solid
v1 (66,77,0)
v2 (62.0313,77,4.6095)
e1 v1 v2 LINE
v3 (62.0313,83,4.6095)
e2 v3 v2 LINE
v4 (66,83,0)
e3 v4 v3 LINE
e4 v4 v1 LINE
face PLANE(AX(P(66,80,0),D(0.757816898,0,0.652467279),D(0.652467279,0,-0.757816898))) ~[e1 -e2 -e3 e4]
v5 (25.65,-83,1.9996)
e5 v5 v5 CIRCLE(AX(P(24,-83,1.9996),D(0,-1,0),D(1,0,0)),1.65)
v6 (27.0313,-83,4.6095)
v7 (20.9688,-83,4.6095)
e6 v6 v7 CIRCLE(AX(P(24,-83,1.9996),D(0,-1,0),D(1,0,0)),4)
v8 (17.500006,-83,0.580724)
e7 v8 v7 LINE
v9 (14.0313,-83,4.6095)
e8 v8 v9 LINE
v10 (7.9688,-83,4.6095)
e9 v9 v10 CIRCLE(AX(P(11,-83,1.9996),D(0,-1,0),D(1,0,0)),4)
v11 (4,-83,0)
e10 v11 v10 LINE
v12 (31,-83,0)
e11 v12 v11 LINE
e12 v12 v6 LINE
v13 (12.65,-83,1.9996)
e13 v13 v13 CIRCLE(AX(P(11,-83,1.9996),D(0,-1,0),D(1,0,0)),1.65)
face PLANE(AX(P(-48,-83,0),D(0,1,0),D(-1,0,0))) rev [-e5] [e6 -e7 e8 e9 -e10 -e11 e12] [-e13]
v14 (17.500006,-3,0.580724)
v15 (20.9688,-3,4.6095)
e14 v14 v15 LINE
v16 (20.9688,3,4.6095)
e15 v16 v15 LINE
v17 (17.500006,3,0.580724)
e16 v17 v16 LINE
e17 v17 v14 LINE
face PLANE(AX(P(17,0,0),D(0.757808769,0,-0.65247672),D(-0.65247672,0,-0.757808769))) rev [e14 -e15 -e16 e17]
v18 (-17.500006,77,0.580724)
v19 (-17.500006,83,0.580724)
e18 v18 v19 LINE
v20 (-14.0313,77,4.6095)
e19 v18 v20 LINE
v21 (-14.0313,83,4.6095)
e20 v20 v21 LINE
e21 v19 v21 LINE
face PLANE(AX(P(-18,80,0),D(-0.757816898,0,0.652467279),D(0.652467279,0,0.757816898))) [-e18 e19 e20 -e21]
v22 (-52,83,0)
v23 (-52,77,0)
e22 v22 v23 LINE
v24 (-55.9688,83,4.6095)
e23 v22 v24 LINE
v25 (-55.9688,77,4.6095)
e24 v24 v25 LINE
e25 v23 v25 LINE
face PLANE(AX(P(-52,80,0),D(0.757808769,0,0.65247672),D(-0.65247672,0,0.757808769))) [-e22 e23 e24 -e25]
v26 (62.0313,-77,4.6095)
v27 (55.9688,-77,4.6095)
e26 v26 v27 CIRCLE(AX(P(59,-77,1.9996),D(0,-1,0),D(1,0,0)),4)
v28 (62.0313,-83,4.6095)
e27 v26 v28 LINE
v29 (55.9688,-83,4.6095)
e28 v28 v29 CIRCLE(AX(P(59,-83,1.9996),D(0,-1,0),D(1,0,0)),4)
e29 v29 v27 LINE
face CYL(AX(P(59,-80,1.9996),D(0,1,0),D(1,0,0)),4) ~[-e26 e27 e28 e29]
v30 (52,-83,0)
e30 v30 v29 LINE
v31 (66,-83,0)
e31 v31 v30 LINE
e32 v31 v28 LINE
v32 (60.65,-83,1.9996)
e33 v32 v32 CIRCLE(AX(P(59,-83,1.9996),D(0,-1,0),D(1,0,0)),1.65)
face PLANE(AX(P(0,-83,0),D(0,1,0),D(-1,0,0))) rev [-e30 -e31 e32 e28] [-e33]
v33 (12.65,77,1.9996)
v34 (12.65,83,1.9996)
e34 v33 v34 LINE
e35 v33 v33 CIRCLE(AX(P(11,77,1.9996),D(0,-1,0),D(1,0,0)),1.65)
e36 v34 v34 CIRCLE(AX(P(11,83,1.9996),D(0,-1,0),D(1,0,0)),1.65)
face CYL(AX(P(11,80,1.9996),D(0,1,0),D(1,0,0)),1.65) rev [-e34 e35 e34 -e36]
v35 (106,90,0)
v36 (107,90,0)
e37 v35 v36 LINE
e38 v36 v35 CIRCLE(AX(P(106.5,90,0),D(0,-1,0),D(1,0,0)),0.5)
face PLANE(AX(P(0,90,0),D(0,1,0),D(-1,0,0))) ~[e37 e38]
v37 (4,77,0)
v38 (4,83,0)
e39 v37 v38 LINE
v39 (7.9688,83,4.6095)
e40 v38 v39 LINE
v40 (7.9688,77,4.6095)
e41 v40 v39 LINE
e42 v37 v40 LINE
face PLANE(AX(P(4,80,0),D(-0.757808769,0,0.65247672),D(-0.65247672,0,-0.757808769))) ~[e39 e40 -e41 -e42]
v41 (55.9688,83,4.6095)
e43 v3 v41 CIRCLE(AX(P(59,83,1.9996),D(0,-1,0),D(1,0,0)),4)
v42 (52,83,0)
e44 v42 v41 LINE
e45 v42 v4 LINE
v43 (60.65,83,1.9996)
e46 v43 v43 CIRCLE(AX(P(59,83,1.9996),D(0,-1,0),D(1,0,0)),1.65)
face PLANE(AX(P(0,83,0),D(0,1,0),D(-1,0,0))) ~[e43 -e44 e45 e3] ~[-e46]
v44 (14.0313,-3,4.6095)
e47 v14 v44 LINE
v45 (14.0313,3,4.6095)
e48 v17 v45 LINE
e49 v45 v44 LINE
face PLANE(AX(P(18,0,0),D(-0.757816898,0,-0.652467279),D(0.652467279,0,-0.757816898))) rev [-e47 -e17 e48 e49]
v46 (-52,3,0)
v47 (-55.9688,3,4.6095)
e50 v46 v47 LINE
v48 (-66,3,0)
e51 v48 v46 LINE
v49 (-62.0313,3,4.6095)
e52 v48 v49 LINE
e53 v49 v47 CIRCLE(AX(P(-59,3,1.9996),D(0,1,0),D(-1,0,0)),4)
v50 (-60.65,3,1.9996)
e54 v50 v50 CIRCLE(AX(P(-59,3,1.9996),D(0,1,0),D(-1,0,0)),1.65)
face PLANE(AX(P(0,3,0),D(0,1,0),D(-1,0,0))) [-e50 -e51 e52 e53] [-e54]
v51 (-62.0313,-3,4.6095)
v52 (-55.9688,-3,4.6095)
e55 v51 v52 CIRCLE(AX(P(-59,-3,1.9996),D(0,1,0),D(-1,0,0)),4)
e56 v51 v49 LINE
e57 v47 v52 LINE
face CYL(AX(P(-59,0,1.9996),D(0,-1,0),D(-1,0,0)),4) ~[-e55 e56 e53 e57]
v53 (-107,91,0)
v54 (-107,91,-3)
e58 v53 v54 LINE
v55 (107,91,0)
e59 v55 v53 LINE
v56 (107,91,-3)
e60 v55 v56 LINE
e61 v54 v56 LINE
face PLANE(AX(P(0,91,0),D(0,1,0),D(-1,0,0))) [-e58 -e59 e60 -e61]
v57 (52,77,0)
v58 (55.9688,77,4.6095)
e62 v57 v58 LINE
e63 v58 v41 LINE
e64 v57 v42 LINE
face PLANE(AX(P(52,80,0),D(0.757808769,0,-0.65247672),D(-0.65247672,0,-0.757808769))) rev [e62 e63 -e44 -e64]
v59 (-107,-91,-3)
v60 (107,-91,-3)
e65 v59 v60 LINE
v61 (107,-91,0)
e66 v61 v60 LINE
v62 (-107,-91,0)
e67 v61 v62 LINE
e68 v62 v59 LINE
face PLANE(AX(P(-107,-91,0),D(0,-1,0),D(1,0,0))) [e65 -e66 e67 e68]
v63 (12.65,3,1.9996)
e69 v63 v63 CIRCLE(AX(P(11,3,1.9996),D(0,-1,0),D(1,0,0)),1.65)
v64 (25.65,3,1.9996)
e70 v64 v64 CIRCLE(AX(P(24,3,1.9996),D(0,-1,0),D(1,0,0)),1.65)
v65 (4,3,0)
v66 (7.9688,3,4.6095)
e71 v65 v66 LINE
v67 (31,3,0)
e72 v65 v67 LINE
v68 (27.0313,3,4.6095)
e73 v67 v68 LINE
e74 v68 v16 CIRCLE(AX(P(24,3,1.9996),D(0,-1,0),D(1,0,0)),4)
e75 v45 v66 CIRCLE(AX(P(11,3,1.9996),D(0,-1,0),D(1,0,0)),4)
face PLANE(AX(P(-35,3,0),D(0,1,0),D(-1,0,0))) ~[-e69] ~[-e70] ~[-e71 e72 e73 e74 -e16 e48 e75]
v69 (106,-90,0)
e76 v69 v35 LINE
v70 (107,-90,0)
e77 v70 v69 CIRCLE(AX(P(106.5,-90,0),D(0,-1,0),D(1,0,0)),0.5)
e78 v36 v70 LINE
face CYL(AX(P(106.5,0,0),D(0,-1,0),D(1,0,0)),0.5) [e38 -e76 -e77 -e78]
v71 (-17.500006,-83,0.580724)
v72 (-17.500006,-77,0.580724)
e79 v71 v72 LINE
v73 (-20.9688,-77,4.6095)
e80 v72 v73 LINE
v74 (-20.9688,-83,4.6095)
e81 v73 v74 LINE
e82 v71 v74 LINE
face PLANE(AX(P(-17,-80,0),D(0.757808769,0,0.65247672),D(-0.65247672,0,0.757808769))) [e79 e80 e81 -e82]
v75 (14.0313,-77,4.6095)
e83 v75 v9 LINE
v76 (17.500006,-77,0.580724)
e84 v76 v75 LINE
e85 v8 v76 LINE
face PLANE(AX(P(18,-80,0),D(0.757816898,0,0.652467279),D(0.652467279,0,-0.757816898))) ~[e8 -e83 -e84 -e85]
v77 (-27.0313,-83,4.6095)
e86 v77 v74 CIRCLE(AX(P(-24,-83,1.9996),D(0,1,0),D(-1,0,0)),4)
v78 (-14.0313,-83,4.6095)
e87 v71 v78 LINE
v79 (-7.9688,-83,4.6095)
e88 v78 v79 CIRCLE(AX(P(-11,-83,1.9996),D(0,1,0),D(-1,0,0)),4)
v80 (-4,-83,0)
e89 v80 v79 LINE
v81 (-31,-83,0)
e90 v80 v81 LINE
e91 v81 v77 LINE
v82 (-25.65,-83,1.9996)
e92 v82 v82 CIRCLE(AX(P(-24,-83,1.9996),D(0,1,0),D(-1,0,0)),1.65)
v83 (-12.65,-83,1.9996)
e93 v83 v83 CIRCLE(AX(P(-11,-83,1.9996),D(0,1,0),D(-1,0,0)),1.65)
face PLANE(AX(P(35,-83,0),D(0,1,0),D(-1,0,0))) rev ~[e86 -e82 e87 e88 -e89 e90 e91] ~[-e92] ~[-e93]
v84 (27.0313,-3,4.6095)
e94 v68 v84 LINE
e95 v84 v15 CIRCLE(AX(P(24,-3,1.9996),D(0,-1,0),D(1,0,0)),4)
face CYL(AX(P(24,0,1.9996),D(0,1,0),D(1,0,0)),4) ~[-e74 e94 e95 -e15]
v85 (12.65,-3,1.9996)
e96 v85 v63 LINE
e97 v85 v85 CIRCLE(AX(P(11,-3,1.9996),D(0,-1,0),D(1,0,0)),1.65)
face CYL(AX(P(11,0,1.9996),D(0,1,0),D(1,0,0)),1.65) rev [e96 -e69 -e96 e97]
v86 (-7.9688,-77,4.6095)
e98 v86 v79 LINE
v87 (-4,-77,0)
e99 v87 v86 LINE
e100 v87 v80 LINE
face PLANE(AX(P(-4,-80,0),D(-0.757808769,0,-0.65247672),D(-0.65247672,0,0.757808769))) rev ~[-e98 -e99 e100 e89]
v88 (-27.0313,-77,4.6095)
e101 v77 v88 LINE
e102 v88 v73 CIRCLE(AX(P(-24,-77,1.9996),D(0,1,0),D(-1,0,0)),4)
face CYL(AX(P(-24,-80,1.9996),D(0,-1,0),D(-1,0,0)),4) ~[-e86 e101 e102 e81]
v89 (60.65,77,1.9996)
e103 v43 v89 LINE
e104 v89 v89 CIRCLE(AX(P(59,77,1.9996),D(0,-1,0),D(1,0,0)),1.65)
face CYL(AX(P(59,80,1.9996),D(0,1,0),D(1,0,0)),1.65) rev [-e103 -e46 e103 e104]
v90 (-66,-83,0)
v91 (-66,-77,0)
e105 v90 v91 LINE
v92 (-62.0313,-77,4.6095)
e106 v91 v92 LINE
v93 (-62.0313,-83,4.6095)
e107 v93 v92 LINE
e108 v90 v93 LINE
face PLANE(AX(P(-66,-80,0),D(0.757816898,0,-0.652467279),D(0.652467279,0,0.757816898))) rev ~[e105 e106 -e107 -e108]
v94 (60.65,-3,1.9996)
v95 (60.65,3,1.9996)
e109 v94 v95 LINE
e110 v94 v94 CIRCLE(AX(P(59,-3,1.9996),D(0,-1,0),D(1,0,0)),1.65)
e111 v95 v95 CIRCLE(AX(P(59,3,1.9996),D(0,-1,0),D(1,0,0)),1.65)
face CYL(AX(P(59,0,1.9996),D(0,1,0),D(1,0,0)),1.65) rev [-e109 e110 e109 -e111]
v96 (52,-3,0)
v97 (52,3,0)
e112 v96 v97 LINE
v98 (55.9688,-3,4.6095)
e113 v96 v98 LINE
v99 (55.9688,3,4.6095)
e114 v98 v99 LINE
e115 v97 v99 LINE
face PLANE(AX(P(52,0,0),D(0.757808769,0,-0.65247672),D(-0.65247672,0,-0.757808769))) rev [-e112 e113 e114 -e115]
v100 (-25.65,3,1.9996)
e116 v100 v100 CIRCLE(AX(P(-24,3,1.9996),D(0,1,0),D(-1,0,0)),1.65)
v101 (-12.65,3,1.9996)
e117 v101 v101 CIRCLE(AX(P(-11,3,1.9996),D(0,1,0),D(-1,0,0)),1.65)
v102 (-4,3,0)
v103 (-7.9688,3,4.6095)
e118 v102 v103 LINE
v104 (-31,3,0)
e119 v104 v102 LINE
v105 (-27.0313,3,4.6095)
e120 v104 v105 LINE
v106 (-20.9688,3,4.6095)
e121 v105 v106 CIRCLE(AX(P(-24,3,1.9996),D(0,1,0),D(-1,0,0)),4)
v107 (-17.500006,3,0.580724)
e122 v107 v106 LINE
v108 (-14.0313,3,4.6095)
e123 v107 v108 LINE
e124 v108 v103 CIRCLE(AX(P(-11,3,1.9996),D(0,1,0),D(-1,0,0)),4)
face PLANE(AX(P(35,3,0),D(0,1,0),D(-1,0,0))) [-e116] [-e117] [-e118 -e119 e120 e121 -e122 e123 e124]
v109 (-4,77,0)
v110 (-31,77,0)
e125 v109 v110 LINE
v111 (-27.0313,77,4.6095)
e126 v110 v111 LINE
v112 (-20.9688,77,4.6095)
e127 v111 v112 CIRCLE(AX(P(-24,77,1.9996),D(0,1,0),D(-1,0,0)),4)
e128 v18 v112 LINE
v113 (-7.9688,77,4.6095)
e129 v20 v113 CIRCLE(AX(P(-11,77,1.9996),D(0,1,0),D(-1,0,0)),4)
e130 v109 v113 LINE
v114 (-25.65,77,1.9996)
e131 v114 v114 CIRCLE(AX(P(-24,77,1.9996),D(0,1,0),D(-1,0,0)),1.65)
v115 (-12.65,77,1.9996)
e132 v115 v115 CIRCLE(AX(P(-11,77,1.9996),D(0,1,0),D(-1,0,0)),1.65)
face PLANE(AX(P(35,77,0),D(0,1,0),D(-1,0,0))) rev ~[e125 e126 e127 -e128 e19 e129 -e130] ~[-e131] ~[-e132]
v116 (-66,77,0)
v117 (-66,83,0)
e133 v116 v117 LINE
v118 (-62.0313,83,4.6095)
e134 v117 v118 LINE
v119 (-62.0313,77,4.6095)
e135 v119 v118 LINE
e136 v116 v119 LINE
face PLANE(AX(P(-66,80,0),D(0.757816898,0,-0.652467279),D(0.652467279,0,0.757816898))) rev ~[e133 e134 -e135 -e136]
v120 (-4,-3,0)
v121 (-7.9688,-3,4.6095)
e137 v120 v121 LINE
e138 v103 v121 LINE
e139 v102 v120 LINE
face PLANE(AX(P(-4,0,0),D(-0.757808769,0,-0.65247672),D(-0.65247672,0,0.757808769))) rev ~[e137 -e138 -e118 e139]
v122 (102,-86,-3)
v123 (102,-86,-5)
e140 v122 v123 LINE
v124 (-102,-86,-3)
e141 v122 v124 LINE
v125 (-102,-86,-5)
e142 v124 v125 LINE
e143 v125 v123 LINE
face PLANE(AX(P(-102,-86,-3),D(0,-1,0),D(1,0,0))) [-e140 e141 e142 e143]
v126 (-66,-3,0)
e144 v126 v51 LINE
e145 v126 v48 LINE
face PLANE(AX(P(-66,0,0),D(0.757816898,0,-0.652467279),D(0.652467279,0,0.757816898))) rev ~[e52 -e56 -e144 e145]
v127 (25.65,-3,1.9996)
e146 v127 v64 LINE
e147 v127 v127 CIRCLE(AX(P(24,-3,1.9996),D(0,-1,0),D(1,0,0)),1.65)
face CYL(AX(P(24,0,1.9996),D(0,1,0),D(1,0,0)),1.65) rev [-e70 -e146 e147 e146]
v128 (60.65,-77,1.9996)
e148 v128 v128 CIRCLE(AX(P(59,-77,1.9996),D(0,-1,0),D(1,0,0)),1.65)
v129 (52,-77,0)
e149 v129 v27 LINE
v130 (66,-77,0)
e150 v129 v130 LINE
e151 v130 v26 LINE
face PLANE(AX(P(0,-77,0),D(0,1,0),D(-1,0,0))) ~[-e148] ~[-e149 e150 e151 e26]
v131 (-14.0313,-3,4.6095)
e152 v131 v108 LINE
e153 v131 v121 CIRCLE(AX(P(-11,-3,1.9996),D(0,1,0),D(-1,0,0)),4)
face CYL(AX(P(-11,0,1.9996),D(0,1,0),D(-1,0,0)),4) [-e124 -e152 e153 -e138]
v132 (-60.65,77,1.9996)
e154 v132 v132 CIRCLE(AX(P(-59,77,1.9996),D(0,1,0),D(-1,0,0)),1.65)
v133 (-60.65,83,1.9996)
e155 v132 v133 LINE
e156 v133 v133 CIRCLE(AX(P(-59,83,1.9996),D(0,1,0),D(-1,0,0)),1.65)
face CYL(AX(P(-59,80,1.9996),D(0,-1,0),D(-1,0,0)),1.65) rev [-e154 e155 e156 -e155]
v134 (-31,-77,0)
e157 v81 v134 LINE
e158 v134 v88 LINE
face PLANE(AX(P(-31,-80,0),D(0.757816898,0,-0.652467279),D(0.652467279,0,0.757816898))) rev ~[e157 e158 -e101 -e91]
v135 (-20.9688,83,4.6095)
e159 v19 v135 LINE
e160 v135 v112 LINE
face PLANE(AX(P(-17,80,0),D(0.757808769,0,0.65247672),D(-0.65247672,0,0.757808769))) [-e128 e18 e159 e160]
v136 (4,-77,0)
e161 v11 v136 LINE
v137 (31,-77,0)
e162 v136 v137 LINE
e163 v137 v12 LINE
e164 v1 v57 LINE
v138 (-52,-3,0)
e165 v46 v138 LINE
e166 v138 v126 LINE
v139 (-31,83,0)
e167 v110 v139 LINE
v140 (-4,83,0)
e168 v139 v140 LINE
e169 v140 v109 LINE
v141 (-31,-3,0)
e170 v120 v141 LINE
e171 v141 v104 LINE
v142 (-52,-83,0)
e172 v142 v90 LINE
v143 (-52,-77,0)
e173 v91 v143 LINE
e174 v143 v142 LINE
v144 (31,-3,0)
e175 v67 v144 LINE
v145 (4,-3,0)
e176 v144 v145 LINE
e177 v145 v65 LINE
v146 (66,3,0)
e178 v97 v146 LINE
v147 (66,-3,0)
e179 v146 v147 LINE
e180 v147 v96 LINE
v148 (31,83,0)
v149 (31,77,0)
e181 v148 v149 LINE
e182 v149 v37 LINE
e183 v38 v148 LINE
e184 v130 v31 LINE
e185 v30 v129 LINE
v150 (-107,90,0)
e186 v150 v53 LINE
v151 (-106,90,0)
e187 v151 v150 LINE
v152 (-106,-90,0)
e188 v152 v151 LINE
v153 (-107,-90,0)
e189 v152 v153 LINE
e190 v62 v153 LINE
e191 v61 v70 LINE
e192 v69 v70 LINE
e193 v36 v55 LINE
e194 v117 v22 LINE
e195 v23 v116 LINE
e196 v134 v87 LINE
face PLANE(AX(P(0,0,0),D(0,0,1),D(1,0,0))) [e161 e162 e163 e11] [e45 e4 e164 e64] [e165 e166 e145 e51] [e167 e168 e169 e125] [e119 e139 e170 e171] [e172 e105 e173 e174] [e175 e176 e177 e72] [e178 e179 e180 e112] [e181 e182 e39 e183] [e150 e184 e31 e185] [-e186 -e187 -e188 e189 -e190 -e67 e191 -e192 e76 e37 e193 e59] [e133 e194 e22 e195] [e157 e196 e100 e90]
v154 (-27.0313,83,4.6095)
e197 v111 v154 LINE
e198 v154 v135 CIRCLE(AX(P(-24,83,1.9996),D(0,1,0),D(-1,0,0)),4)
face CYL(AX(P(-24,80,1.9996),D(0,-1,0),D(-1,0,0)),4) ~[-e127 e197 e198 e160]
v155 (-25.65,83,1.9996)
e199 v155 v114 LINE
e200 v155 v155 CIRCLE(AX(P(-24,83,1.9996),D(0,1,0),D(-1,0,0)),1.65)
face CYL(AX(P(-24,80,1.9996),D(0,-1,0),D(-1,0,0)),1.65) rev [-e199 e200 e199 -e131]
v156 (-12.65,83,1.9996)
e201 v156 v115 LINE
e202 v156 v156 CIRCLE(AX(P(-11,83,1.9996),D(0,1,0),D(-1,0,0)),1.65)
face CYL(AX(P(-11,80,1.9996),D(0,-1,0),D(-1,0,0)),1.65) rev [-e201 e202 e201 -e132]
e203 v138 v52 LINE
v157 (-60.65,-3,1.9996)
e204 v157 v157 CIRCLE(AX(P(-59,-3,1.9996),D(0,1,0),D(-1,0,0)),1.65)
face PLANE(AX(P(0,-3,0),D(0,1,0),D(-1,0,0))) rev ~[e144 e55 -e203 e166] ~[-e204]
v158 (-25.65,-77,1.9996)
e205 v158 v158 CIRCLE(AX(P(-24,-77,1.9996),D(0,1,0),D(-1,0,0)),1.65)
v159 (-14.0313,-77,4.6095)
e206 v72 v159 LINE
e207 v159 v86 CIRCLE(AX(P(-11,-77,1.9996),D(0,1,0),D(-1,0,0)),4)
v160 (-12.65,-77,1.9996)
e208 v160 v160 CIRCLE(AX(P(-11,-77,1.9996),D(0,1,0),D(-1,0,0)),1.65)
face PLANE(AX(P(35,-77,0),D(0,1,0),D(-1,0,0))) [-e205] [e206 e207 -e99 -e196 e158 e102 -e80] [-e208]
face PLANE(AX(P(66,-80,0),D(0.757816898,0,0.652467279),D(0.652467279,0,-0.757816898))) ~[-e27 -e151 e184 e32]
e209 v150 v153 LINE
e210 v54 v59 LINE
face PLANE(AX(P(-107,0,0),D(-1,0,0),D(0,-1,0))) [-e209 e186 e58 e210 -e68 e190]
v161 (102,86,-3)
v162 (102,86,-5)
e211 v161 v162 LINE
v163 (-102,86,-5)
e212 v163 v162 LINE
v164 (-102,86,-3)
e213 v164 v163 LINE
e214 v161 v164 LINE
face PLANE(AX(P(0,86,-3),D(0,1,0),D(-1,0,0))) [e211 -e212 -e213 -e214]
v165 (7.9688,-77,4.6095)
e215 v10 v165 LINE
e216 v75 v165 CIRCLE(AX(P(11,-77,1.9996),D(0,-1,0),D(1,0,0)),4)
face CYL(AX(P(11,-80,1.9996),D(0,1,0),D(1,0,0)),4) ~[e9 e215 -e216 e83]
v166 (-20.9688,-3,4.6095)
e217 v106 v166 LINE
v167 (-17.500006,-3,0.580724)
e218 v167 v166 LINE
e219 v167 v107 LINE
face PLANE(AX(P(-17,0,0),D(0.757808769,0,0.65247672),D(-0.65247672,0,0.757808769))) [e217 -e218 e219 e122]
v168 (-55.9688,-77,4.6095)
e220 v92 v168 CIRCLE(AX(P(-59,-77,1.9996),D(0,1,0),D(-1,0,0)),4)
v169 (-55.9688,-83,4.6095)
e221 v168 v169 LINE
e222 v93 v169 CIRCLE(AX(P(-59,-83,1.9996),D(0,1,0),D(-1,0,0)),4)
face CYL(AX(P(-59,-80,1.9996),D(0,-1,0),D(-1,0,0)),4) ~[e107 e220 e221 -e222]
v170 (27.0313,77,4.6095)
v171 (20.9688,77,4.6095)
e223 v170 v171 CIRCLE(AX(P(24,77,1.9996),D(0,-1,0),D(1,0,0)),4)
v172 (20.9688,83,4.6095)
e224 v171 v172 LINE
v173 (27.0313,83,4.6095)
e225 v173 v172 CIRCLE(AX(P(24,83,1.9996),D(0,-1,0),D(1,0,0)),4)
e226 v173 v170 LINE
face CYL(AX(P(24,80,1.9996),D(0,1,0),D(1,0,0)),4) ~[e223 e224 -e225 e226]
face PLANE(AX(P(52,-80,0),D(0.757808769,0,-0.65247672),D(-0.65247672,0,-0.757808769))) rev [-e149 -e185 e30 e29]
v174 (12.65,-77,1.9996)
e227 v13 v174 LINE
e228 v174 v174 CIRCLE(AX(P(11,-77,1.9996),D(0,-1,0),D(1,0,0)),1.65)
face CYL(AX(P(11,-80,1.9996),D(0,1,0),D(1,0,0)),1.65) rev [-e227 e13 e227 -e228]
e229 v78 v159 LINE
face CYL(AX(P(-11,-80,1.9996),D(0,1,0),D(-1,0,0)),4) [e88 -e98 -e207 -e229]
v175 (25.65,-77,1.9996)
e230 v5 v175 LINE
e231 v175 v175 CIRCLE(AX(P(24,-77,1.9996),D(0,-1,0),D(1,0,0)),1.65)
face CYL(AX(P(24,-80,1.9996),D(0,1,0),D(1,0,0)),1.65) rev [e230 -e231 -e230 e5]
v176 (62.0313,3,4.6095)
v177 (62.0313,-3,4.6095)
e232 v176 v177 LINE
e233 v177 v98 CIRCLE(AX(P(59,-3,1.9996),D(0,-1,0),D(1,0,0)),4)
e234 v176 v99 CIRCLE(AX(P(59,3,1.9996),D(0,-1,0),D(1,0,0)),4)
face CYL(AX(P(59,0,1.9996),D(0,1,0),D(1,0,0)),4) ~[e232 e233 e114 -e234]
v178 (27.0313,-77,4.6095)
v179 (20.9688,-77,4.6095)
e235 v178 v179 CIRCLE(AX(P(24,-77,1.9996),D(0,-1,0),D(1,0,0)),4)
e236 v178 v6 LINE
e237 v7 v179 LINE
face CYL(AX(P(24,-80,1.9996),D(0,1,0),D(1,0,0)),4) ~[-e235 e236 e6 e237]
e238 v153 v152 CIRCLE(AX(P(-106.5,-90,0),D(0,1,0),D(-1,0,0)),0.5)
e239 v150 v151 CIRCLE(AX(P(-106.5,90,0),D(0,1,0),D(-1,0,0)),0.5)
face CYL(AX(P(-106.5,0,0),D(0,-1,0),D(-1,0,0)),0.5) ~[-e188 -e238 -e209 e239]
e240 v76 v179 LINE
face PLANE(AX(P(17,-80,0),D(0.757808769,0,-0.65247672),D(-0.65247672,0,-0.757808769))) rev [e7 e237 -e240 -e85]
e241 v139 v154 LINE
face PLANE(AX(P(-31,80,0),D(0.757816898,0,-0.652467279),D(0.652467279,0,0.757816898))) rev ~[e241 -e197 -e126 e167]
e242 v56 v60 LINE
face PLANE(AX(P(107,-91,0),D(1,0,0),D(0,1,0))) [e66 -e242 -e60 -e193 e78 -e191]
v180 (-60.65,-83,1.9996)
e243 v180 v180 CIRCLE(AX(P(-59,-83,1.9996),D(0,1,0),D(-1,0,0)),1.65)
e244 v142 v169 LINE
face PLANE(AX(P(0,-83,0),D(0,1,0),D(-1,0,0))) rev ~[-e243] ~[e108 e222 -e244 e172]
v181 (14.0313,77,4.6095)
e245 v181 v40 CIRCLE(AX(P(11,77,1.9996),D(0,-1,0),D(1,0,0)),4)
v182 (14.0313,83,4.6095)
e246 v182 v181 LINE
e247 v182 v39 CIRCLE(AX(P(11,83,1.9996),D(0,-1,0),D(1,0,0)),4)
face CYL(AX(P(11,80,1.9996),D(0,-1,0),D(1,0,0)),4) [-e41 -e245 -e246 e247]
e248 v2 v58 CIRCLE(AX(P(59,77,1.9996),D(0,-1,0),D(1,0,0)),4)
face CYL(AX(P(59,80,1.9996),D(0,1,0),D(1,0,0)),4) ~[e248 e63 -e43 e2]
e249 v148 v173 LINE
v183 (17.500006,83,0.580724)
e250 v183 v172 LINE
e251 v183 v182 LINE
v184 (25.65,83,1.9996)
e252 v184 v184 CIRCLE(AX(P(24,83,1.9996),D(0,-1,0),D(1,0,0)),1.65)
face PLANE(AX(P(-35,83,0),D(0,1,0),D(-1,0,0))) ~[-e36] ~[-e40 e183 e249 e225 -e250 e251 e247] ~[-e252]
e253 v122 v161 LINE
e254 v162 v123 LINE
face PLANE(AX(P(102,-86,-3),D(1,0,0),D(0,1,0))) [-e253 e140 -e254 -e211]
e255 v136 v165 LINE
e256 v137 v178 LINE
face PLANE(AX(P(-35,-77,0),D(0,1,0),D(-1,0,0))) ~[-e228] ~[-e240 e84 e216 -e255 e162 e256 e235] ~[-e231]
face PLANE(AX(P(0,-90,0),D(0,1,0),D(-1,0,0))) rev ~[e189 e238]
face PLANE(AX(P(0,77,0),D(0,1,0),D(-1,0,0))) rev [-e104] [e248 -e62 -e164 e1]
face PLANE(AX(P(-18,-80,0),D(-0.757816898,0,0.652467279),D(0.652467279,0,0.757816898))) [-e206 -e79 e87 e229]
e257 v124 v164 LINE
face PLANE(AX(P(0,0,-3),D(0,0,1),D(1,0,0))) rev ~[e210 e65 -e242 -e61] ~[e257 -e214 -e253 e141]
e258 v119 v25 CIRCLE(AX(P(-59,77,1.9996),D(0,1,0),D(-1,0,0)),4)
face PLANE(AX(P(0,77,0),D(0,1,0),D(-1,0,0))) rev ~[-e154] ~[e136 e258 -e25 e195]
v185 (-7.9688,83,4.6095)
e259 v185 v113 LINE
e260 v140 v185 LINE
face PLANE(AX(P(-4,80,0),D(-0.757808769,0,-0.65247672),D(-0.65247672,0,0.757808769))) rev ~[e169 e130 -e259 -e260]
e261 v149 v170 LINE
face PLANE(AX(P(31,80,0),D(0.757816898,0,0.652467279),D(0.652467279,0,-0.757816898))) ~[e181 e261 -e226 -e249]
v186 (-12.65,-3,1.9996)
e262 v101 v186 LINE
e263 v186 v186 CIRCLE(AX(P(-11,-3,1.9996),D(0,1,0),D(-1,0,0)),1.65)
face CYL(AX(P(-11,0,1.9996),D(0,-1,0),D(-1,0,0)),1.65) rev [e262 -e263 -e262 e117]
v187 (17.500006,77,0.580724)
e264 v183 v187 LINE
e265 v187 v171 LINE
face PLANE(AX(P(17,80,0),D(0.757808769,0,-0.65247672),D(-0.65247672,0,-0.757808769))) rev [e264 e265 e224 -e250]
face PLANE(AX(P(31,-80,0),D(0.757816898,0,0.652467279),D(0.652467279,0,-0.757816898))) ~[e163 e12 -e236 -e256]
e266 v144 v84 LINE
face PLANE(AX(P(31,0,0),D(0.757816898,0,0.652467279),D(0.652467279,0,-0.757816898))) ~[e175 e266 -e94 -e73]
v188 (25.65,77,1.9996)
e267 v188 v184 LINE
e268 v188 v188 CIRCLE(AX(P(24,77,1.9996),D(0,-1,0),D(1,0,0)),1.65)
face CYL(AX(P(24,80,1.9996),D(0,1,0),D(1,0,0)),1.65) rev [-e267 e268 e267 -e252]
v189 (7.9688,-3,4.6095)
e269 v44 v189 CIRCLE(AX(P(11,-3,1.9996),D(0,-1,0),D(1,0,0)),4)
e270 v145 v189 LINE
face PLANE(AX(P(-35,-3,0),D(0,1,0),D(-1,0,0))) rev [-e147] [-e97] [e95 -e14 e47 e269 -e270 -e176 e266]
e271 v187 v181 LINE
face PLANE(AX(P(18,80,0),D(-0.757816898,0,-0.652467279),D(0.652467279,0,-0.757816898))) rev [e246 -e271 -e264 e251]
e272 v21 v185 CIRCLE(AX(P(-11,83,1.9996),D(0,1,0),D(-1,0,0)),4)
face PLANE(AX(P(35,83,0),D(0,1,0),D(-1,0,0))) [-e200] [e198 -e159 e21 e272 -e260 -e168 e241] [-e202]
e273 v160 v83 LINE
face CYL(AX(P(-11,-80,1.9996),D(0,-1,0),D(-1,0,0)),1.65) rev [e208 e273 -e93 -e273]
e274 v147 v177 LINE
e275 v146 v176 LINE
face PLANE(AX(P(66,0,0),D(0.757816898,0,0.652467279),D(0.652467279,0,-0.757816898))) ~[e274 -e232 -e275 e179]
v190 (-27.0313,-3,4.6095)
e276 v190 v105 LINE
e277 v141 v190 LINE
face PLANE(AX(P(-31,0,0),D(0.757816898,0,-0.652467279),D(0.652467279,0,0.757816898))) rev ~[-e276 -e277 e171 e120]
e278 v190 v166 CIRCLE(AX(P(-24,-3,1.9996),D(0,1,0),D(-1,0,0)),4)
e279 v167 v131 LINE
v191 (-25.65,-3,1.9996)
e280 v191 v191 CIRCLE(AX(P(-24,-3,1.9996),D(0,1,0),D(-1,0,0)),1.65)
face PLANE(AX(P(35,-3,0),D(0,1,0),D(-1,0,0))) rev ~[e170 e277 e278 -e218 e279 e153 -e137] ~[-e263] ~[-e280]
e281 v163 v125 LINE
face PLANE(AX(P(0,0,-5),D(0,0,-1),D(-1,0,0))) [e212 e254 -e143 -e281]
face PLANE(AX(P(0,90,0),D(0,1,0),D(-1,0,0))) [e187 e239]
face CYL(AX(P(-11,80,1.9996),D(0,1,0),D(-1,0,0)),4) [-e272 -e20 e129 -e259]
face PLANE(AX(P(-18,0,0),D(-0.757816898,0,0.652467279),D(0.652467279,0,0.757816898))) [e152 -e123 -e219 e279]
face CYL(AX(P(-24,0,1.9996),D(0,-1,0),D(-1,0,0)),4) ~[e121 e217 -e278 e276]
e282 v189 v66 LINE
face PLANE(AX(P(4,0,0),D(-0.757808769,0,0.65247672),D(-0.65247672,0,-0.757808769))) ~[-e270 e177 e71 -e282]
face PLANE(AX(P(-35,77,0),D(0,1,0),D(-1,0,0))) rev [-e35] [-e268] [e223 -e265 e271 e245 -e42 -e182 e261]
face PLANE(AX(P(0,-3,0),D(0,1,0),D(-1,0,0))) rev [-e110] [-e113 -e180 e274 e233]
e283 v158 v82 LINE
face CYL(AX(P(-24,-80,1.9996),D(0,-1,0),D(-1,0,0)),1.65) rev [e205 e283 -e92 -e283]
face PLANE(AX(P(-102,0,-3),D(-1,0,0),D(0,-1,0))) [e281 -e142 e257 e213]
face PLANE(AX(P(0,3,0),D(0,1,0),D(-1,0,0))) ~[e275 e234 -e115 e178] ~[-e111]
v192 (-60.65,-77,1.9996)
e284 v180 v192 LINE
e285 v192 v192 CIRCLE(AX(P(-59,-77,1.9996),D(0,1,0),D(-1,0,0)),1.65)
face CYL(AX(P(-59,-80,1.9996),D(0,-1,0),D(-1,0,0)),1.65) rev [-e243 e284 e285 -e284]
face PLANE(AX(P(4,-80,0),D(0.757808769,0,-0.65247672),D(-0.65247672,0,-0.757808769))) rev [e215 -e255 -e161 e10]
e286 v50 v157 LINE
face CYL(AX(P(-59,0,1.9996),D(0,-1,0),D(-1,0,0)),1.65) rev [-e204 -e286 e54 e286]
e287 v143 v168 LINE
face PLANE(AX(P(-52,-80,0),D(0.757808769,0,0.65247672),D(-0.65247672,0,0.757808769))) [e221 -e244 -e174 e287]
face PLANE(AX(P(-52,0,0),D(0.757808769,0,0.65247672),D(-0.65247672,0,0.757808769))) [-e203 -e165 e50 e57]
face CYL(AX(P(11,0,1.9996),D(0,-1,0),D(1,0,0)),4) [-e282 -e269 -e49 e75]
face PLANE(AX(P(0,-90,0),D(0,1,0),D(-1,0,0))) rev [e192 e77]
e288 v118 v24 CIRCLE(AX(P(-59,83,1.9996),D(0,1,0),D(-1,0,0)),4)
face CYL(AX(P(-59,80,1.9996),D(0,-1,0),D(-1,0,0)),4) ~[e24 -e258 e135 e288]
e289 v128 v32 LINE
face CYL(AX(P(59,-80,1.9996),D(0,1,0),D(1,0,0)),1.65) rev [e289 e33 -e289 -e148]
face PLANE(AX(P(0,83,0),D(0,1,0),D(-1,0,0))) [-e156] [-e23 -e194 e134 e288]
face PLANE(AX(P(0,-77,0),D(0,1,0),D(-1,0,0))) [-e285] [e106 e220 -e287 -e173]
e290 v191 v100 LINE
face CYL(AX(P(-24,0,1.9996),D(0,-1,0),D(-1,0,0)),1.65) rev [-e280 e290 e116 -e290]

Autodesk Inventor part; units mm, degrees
sketch "Skizze1" plane through (0, 0, 0) normal (0, 0, 1) x (1, 0, 0)
  line L0 (-107, -91) -> (107, -91)
  line L1 (107, -91) -> (107, 91)
  line L2 (107, 91) -> (-107, 91)
  line L3 (-107, 91) -> (-107, -91)
  line L4 (0, -127.4) -> (0, 127.4) projected
  line L5 (-149.8, 0) -> (149.8, 0) projected
  point P0 (0, 0)
  dimension "d0" = 182
  dimension "d1" = 214
extrude "Extrusion1" add sketch "Skizze1" against normal blind 3
sketch "Skizze2" plane through (0, 0, 0) normal (0, 1, 0) x (-1, 0, 0)
  line L0 (-107, 0) -> (107, 0) projected
  circle A0 centre (59, 1.9996) radius 1.65
  circle A1 centre (59, 1.9996) radius 4
  line L1 (66, 0) -> (62.0313, 4.6095)
  line L2 (52, 0) -> (55.9688, 4.6095)
  point P0 (0, 0)
  point P1 (-11, 0)
  point P2 (-24, 0)
  point P3 (-59, 0)
  point P4 (59, 0)
  point P5 (24, 0)
  point P6 (11, 0)
  dimension "d4" = 3.3
  dimension "d5" = 8
extrude "Extrusion2" add sketch "Skizze2" against normal mid plane 6 contours L2 A1 L0 | A1 L0 | A1 L1 L0 picked at (59.0663, 0.1205)
pattern_linear "Rechteckige Anordnung3" count 2 spacing 35 along (1, 0, 0) count 2 spacing 80 along (0, -1, 0) of "Extrusion2"
pattern_linear "Rechteckige Anordnung4" count 2 spacing 35 along (1, 0, 0) count 2 spacing 80 along (0, 1, 0) of "Extrusion2"
pattern_linear "Rechteckige Anordnung5" count 2 spacing 48 along (1, 0, 0) count 2 spacing 80 along (0, -1, 0) of "Extrusion2"
pattern_linear "Rechteckige Anordnung6" count 2 spacing 48 along (1, 0, 0) count 2 spacing 80 along (0, 1, 0) of "Extrusion2"
mirror "Spiegeln1" about plane through (0, 0, 0) normal (1, 0, 0) of "Extrusion2", "Rechteckige Anordnung4", "Rechteckige Anordnung6", "Rechteckige Anordnung5", "Rechteckige Anordnung3"
sketch "Skizze3" plane through (0, 0, 0) normal (0, 1, 0) x (-1, 0, 0)
  line L0 (-107, 0) -> (107, 0) projected
  circle A0 centre (106.5, 0) radius 0.5
  line L1 (0, -0.7) -> (0, 0.7) projected
  point P0 (0, 0)
  point P1 (106, 0)
  dimension "d38" = 1
  dimension "d39" = 106.5
extrude "Extrusion3" add sketch "Skizze3" along normal mid plane 180 contours A0 L0 picked at (106.6248, 0.1903)
mirror "Spiegeln2" about plane through (0, 0, 0) normal (1, 0, 0) of "Extrusion3"
sketch "Skizze4" plane through (0, 0, 0) normal (0, 0, 1) x (1, 0, 0)
  line L0 (-149.8, 0) -> (149.8, 0) projected
  line L1 (0, 127.4) -> (0, -127.4) projected
  point P0 (0, 0)
sketch "Skizze5" plane through (0, 0, -3) normal (0, 0, -1) x (-1, 0, 0)
  line L0 (102, -86) -> (-102, -86)
  line L1 (-102, -86) -> (-102, 86)
  line L2 (-102, 86) -> (102, 86)
  line L3 (102, 86) -> (102, -86)
  line L4 (0, -127.4) -> (0, 127.4) projected
  line L5 (149.8, 0) -> (-149.8, 0) projected
  point P0 (0, 0)
  dimension "d42" = 204
  dimension "d43" = 172
sketch "Skizze6" plane through (0, 0, -3) normal (0, 0, -1) x (-1, 0, 0)
  point P0 (0, 0)
sketch "Skizze7" plane through (0, 0, 0) normal (0, 0, 1) x (1, 0, 0)
  line L0 (107, -91) -> (-107, -91) projected
  line L1 (-107, -91) -> (-107, 91) projected
  line L2 (-107, 91) -> (107, 91) projected
  line L3 (107, 91) -> (107, -91) projected
  line L4 (102, -86) -> (102, 86) projected
  line L5 (102, 86) -> (-102, 86) projected
  line L6 (-102, 86) -> (-102, -86) projected
  line L7 (-102, -86) -> (102, -86) projected
  point P0 (0, 0)
extrude "Extrusion4" add sketch "Skizze5" along normal blind 2
ref_plane "Arbeitsebene1" through (0, 0, 0) normal (1, 0, 0) x (0, 1, 0)
properties part number "Deckel_PV_Elektronik"
